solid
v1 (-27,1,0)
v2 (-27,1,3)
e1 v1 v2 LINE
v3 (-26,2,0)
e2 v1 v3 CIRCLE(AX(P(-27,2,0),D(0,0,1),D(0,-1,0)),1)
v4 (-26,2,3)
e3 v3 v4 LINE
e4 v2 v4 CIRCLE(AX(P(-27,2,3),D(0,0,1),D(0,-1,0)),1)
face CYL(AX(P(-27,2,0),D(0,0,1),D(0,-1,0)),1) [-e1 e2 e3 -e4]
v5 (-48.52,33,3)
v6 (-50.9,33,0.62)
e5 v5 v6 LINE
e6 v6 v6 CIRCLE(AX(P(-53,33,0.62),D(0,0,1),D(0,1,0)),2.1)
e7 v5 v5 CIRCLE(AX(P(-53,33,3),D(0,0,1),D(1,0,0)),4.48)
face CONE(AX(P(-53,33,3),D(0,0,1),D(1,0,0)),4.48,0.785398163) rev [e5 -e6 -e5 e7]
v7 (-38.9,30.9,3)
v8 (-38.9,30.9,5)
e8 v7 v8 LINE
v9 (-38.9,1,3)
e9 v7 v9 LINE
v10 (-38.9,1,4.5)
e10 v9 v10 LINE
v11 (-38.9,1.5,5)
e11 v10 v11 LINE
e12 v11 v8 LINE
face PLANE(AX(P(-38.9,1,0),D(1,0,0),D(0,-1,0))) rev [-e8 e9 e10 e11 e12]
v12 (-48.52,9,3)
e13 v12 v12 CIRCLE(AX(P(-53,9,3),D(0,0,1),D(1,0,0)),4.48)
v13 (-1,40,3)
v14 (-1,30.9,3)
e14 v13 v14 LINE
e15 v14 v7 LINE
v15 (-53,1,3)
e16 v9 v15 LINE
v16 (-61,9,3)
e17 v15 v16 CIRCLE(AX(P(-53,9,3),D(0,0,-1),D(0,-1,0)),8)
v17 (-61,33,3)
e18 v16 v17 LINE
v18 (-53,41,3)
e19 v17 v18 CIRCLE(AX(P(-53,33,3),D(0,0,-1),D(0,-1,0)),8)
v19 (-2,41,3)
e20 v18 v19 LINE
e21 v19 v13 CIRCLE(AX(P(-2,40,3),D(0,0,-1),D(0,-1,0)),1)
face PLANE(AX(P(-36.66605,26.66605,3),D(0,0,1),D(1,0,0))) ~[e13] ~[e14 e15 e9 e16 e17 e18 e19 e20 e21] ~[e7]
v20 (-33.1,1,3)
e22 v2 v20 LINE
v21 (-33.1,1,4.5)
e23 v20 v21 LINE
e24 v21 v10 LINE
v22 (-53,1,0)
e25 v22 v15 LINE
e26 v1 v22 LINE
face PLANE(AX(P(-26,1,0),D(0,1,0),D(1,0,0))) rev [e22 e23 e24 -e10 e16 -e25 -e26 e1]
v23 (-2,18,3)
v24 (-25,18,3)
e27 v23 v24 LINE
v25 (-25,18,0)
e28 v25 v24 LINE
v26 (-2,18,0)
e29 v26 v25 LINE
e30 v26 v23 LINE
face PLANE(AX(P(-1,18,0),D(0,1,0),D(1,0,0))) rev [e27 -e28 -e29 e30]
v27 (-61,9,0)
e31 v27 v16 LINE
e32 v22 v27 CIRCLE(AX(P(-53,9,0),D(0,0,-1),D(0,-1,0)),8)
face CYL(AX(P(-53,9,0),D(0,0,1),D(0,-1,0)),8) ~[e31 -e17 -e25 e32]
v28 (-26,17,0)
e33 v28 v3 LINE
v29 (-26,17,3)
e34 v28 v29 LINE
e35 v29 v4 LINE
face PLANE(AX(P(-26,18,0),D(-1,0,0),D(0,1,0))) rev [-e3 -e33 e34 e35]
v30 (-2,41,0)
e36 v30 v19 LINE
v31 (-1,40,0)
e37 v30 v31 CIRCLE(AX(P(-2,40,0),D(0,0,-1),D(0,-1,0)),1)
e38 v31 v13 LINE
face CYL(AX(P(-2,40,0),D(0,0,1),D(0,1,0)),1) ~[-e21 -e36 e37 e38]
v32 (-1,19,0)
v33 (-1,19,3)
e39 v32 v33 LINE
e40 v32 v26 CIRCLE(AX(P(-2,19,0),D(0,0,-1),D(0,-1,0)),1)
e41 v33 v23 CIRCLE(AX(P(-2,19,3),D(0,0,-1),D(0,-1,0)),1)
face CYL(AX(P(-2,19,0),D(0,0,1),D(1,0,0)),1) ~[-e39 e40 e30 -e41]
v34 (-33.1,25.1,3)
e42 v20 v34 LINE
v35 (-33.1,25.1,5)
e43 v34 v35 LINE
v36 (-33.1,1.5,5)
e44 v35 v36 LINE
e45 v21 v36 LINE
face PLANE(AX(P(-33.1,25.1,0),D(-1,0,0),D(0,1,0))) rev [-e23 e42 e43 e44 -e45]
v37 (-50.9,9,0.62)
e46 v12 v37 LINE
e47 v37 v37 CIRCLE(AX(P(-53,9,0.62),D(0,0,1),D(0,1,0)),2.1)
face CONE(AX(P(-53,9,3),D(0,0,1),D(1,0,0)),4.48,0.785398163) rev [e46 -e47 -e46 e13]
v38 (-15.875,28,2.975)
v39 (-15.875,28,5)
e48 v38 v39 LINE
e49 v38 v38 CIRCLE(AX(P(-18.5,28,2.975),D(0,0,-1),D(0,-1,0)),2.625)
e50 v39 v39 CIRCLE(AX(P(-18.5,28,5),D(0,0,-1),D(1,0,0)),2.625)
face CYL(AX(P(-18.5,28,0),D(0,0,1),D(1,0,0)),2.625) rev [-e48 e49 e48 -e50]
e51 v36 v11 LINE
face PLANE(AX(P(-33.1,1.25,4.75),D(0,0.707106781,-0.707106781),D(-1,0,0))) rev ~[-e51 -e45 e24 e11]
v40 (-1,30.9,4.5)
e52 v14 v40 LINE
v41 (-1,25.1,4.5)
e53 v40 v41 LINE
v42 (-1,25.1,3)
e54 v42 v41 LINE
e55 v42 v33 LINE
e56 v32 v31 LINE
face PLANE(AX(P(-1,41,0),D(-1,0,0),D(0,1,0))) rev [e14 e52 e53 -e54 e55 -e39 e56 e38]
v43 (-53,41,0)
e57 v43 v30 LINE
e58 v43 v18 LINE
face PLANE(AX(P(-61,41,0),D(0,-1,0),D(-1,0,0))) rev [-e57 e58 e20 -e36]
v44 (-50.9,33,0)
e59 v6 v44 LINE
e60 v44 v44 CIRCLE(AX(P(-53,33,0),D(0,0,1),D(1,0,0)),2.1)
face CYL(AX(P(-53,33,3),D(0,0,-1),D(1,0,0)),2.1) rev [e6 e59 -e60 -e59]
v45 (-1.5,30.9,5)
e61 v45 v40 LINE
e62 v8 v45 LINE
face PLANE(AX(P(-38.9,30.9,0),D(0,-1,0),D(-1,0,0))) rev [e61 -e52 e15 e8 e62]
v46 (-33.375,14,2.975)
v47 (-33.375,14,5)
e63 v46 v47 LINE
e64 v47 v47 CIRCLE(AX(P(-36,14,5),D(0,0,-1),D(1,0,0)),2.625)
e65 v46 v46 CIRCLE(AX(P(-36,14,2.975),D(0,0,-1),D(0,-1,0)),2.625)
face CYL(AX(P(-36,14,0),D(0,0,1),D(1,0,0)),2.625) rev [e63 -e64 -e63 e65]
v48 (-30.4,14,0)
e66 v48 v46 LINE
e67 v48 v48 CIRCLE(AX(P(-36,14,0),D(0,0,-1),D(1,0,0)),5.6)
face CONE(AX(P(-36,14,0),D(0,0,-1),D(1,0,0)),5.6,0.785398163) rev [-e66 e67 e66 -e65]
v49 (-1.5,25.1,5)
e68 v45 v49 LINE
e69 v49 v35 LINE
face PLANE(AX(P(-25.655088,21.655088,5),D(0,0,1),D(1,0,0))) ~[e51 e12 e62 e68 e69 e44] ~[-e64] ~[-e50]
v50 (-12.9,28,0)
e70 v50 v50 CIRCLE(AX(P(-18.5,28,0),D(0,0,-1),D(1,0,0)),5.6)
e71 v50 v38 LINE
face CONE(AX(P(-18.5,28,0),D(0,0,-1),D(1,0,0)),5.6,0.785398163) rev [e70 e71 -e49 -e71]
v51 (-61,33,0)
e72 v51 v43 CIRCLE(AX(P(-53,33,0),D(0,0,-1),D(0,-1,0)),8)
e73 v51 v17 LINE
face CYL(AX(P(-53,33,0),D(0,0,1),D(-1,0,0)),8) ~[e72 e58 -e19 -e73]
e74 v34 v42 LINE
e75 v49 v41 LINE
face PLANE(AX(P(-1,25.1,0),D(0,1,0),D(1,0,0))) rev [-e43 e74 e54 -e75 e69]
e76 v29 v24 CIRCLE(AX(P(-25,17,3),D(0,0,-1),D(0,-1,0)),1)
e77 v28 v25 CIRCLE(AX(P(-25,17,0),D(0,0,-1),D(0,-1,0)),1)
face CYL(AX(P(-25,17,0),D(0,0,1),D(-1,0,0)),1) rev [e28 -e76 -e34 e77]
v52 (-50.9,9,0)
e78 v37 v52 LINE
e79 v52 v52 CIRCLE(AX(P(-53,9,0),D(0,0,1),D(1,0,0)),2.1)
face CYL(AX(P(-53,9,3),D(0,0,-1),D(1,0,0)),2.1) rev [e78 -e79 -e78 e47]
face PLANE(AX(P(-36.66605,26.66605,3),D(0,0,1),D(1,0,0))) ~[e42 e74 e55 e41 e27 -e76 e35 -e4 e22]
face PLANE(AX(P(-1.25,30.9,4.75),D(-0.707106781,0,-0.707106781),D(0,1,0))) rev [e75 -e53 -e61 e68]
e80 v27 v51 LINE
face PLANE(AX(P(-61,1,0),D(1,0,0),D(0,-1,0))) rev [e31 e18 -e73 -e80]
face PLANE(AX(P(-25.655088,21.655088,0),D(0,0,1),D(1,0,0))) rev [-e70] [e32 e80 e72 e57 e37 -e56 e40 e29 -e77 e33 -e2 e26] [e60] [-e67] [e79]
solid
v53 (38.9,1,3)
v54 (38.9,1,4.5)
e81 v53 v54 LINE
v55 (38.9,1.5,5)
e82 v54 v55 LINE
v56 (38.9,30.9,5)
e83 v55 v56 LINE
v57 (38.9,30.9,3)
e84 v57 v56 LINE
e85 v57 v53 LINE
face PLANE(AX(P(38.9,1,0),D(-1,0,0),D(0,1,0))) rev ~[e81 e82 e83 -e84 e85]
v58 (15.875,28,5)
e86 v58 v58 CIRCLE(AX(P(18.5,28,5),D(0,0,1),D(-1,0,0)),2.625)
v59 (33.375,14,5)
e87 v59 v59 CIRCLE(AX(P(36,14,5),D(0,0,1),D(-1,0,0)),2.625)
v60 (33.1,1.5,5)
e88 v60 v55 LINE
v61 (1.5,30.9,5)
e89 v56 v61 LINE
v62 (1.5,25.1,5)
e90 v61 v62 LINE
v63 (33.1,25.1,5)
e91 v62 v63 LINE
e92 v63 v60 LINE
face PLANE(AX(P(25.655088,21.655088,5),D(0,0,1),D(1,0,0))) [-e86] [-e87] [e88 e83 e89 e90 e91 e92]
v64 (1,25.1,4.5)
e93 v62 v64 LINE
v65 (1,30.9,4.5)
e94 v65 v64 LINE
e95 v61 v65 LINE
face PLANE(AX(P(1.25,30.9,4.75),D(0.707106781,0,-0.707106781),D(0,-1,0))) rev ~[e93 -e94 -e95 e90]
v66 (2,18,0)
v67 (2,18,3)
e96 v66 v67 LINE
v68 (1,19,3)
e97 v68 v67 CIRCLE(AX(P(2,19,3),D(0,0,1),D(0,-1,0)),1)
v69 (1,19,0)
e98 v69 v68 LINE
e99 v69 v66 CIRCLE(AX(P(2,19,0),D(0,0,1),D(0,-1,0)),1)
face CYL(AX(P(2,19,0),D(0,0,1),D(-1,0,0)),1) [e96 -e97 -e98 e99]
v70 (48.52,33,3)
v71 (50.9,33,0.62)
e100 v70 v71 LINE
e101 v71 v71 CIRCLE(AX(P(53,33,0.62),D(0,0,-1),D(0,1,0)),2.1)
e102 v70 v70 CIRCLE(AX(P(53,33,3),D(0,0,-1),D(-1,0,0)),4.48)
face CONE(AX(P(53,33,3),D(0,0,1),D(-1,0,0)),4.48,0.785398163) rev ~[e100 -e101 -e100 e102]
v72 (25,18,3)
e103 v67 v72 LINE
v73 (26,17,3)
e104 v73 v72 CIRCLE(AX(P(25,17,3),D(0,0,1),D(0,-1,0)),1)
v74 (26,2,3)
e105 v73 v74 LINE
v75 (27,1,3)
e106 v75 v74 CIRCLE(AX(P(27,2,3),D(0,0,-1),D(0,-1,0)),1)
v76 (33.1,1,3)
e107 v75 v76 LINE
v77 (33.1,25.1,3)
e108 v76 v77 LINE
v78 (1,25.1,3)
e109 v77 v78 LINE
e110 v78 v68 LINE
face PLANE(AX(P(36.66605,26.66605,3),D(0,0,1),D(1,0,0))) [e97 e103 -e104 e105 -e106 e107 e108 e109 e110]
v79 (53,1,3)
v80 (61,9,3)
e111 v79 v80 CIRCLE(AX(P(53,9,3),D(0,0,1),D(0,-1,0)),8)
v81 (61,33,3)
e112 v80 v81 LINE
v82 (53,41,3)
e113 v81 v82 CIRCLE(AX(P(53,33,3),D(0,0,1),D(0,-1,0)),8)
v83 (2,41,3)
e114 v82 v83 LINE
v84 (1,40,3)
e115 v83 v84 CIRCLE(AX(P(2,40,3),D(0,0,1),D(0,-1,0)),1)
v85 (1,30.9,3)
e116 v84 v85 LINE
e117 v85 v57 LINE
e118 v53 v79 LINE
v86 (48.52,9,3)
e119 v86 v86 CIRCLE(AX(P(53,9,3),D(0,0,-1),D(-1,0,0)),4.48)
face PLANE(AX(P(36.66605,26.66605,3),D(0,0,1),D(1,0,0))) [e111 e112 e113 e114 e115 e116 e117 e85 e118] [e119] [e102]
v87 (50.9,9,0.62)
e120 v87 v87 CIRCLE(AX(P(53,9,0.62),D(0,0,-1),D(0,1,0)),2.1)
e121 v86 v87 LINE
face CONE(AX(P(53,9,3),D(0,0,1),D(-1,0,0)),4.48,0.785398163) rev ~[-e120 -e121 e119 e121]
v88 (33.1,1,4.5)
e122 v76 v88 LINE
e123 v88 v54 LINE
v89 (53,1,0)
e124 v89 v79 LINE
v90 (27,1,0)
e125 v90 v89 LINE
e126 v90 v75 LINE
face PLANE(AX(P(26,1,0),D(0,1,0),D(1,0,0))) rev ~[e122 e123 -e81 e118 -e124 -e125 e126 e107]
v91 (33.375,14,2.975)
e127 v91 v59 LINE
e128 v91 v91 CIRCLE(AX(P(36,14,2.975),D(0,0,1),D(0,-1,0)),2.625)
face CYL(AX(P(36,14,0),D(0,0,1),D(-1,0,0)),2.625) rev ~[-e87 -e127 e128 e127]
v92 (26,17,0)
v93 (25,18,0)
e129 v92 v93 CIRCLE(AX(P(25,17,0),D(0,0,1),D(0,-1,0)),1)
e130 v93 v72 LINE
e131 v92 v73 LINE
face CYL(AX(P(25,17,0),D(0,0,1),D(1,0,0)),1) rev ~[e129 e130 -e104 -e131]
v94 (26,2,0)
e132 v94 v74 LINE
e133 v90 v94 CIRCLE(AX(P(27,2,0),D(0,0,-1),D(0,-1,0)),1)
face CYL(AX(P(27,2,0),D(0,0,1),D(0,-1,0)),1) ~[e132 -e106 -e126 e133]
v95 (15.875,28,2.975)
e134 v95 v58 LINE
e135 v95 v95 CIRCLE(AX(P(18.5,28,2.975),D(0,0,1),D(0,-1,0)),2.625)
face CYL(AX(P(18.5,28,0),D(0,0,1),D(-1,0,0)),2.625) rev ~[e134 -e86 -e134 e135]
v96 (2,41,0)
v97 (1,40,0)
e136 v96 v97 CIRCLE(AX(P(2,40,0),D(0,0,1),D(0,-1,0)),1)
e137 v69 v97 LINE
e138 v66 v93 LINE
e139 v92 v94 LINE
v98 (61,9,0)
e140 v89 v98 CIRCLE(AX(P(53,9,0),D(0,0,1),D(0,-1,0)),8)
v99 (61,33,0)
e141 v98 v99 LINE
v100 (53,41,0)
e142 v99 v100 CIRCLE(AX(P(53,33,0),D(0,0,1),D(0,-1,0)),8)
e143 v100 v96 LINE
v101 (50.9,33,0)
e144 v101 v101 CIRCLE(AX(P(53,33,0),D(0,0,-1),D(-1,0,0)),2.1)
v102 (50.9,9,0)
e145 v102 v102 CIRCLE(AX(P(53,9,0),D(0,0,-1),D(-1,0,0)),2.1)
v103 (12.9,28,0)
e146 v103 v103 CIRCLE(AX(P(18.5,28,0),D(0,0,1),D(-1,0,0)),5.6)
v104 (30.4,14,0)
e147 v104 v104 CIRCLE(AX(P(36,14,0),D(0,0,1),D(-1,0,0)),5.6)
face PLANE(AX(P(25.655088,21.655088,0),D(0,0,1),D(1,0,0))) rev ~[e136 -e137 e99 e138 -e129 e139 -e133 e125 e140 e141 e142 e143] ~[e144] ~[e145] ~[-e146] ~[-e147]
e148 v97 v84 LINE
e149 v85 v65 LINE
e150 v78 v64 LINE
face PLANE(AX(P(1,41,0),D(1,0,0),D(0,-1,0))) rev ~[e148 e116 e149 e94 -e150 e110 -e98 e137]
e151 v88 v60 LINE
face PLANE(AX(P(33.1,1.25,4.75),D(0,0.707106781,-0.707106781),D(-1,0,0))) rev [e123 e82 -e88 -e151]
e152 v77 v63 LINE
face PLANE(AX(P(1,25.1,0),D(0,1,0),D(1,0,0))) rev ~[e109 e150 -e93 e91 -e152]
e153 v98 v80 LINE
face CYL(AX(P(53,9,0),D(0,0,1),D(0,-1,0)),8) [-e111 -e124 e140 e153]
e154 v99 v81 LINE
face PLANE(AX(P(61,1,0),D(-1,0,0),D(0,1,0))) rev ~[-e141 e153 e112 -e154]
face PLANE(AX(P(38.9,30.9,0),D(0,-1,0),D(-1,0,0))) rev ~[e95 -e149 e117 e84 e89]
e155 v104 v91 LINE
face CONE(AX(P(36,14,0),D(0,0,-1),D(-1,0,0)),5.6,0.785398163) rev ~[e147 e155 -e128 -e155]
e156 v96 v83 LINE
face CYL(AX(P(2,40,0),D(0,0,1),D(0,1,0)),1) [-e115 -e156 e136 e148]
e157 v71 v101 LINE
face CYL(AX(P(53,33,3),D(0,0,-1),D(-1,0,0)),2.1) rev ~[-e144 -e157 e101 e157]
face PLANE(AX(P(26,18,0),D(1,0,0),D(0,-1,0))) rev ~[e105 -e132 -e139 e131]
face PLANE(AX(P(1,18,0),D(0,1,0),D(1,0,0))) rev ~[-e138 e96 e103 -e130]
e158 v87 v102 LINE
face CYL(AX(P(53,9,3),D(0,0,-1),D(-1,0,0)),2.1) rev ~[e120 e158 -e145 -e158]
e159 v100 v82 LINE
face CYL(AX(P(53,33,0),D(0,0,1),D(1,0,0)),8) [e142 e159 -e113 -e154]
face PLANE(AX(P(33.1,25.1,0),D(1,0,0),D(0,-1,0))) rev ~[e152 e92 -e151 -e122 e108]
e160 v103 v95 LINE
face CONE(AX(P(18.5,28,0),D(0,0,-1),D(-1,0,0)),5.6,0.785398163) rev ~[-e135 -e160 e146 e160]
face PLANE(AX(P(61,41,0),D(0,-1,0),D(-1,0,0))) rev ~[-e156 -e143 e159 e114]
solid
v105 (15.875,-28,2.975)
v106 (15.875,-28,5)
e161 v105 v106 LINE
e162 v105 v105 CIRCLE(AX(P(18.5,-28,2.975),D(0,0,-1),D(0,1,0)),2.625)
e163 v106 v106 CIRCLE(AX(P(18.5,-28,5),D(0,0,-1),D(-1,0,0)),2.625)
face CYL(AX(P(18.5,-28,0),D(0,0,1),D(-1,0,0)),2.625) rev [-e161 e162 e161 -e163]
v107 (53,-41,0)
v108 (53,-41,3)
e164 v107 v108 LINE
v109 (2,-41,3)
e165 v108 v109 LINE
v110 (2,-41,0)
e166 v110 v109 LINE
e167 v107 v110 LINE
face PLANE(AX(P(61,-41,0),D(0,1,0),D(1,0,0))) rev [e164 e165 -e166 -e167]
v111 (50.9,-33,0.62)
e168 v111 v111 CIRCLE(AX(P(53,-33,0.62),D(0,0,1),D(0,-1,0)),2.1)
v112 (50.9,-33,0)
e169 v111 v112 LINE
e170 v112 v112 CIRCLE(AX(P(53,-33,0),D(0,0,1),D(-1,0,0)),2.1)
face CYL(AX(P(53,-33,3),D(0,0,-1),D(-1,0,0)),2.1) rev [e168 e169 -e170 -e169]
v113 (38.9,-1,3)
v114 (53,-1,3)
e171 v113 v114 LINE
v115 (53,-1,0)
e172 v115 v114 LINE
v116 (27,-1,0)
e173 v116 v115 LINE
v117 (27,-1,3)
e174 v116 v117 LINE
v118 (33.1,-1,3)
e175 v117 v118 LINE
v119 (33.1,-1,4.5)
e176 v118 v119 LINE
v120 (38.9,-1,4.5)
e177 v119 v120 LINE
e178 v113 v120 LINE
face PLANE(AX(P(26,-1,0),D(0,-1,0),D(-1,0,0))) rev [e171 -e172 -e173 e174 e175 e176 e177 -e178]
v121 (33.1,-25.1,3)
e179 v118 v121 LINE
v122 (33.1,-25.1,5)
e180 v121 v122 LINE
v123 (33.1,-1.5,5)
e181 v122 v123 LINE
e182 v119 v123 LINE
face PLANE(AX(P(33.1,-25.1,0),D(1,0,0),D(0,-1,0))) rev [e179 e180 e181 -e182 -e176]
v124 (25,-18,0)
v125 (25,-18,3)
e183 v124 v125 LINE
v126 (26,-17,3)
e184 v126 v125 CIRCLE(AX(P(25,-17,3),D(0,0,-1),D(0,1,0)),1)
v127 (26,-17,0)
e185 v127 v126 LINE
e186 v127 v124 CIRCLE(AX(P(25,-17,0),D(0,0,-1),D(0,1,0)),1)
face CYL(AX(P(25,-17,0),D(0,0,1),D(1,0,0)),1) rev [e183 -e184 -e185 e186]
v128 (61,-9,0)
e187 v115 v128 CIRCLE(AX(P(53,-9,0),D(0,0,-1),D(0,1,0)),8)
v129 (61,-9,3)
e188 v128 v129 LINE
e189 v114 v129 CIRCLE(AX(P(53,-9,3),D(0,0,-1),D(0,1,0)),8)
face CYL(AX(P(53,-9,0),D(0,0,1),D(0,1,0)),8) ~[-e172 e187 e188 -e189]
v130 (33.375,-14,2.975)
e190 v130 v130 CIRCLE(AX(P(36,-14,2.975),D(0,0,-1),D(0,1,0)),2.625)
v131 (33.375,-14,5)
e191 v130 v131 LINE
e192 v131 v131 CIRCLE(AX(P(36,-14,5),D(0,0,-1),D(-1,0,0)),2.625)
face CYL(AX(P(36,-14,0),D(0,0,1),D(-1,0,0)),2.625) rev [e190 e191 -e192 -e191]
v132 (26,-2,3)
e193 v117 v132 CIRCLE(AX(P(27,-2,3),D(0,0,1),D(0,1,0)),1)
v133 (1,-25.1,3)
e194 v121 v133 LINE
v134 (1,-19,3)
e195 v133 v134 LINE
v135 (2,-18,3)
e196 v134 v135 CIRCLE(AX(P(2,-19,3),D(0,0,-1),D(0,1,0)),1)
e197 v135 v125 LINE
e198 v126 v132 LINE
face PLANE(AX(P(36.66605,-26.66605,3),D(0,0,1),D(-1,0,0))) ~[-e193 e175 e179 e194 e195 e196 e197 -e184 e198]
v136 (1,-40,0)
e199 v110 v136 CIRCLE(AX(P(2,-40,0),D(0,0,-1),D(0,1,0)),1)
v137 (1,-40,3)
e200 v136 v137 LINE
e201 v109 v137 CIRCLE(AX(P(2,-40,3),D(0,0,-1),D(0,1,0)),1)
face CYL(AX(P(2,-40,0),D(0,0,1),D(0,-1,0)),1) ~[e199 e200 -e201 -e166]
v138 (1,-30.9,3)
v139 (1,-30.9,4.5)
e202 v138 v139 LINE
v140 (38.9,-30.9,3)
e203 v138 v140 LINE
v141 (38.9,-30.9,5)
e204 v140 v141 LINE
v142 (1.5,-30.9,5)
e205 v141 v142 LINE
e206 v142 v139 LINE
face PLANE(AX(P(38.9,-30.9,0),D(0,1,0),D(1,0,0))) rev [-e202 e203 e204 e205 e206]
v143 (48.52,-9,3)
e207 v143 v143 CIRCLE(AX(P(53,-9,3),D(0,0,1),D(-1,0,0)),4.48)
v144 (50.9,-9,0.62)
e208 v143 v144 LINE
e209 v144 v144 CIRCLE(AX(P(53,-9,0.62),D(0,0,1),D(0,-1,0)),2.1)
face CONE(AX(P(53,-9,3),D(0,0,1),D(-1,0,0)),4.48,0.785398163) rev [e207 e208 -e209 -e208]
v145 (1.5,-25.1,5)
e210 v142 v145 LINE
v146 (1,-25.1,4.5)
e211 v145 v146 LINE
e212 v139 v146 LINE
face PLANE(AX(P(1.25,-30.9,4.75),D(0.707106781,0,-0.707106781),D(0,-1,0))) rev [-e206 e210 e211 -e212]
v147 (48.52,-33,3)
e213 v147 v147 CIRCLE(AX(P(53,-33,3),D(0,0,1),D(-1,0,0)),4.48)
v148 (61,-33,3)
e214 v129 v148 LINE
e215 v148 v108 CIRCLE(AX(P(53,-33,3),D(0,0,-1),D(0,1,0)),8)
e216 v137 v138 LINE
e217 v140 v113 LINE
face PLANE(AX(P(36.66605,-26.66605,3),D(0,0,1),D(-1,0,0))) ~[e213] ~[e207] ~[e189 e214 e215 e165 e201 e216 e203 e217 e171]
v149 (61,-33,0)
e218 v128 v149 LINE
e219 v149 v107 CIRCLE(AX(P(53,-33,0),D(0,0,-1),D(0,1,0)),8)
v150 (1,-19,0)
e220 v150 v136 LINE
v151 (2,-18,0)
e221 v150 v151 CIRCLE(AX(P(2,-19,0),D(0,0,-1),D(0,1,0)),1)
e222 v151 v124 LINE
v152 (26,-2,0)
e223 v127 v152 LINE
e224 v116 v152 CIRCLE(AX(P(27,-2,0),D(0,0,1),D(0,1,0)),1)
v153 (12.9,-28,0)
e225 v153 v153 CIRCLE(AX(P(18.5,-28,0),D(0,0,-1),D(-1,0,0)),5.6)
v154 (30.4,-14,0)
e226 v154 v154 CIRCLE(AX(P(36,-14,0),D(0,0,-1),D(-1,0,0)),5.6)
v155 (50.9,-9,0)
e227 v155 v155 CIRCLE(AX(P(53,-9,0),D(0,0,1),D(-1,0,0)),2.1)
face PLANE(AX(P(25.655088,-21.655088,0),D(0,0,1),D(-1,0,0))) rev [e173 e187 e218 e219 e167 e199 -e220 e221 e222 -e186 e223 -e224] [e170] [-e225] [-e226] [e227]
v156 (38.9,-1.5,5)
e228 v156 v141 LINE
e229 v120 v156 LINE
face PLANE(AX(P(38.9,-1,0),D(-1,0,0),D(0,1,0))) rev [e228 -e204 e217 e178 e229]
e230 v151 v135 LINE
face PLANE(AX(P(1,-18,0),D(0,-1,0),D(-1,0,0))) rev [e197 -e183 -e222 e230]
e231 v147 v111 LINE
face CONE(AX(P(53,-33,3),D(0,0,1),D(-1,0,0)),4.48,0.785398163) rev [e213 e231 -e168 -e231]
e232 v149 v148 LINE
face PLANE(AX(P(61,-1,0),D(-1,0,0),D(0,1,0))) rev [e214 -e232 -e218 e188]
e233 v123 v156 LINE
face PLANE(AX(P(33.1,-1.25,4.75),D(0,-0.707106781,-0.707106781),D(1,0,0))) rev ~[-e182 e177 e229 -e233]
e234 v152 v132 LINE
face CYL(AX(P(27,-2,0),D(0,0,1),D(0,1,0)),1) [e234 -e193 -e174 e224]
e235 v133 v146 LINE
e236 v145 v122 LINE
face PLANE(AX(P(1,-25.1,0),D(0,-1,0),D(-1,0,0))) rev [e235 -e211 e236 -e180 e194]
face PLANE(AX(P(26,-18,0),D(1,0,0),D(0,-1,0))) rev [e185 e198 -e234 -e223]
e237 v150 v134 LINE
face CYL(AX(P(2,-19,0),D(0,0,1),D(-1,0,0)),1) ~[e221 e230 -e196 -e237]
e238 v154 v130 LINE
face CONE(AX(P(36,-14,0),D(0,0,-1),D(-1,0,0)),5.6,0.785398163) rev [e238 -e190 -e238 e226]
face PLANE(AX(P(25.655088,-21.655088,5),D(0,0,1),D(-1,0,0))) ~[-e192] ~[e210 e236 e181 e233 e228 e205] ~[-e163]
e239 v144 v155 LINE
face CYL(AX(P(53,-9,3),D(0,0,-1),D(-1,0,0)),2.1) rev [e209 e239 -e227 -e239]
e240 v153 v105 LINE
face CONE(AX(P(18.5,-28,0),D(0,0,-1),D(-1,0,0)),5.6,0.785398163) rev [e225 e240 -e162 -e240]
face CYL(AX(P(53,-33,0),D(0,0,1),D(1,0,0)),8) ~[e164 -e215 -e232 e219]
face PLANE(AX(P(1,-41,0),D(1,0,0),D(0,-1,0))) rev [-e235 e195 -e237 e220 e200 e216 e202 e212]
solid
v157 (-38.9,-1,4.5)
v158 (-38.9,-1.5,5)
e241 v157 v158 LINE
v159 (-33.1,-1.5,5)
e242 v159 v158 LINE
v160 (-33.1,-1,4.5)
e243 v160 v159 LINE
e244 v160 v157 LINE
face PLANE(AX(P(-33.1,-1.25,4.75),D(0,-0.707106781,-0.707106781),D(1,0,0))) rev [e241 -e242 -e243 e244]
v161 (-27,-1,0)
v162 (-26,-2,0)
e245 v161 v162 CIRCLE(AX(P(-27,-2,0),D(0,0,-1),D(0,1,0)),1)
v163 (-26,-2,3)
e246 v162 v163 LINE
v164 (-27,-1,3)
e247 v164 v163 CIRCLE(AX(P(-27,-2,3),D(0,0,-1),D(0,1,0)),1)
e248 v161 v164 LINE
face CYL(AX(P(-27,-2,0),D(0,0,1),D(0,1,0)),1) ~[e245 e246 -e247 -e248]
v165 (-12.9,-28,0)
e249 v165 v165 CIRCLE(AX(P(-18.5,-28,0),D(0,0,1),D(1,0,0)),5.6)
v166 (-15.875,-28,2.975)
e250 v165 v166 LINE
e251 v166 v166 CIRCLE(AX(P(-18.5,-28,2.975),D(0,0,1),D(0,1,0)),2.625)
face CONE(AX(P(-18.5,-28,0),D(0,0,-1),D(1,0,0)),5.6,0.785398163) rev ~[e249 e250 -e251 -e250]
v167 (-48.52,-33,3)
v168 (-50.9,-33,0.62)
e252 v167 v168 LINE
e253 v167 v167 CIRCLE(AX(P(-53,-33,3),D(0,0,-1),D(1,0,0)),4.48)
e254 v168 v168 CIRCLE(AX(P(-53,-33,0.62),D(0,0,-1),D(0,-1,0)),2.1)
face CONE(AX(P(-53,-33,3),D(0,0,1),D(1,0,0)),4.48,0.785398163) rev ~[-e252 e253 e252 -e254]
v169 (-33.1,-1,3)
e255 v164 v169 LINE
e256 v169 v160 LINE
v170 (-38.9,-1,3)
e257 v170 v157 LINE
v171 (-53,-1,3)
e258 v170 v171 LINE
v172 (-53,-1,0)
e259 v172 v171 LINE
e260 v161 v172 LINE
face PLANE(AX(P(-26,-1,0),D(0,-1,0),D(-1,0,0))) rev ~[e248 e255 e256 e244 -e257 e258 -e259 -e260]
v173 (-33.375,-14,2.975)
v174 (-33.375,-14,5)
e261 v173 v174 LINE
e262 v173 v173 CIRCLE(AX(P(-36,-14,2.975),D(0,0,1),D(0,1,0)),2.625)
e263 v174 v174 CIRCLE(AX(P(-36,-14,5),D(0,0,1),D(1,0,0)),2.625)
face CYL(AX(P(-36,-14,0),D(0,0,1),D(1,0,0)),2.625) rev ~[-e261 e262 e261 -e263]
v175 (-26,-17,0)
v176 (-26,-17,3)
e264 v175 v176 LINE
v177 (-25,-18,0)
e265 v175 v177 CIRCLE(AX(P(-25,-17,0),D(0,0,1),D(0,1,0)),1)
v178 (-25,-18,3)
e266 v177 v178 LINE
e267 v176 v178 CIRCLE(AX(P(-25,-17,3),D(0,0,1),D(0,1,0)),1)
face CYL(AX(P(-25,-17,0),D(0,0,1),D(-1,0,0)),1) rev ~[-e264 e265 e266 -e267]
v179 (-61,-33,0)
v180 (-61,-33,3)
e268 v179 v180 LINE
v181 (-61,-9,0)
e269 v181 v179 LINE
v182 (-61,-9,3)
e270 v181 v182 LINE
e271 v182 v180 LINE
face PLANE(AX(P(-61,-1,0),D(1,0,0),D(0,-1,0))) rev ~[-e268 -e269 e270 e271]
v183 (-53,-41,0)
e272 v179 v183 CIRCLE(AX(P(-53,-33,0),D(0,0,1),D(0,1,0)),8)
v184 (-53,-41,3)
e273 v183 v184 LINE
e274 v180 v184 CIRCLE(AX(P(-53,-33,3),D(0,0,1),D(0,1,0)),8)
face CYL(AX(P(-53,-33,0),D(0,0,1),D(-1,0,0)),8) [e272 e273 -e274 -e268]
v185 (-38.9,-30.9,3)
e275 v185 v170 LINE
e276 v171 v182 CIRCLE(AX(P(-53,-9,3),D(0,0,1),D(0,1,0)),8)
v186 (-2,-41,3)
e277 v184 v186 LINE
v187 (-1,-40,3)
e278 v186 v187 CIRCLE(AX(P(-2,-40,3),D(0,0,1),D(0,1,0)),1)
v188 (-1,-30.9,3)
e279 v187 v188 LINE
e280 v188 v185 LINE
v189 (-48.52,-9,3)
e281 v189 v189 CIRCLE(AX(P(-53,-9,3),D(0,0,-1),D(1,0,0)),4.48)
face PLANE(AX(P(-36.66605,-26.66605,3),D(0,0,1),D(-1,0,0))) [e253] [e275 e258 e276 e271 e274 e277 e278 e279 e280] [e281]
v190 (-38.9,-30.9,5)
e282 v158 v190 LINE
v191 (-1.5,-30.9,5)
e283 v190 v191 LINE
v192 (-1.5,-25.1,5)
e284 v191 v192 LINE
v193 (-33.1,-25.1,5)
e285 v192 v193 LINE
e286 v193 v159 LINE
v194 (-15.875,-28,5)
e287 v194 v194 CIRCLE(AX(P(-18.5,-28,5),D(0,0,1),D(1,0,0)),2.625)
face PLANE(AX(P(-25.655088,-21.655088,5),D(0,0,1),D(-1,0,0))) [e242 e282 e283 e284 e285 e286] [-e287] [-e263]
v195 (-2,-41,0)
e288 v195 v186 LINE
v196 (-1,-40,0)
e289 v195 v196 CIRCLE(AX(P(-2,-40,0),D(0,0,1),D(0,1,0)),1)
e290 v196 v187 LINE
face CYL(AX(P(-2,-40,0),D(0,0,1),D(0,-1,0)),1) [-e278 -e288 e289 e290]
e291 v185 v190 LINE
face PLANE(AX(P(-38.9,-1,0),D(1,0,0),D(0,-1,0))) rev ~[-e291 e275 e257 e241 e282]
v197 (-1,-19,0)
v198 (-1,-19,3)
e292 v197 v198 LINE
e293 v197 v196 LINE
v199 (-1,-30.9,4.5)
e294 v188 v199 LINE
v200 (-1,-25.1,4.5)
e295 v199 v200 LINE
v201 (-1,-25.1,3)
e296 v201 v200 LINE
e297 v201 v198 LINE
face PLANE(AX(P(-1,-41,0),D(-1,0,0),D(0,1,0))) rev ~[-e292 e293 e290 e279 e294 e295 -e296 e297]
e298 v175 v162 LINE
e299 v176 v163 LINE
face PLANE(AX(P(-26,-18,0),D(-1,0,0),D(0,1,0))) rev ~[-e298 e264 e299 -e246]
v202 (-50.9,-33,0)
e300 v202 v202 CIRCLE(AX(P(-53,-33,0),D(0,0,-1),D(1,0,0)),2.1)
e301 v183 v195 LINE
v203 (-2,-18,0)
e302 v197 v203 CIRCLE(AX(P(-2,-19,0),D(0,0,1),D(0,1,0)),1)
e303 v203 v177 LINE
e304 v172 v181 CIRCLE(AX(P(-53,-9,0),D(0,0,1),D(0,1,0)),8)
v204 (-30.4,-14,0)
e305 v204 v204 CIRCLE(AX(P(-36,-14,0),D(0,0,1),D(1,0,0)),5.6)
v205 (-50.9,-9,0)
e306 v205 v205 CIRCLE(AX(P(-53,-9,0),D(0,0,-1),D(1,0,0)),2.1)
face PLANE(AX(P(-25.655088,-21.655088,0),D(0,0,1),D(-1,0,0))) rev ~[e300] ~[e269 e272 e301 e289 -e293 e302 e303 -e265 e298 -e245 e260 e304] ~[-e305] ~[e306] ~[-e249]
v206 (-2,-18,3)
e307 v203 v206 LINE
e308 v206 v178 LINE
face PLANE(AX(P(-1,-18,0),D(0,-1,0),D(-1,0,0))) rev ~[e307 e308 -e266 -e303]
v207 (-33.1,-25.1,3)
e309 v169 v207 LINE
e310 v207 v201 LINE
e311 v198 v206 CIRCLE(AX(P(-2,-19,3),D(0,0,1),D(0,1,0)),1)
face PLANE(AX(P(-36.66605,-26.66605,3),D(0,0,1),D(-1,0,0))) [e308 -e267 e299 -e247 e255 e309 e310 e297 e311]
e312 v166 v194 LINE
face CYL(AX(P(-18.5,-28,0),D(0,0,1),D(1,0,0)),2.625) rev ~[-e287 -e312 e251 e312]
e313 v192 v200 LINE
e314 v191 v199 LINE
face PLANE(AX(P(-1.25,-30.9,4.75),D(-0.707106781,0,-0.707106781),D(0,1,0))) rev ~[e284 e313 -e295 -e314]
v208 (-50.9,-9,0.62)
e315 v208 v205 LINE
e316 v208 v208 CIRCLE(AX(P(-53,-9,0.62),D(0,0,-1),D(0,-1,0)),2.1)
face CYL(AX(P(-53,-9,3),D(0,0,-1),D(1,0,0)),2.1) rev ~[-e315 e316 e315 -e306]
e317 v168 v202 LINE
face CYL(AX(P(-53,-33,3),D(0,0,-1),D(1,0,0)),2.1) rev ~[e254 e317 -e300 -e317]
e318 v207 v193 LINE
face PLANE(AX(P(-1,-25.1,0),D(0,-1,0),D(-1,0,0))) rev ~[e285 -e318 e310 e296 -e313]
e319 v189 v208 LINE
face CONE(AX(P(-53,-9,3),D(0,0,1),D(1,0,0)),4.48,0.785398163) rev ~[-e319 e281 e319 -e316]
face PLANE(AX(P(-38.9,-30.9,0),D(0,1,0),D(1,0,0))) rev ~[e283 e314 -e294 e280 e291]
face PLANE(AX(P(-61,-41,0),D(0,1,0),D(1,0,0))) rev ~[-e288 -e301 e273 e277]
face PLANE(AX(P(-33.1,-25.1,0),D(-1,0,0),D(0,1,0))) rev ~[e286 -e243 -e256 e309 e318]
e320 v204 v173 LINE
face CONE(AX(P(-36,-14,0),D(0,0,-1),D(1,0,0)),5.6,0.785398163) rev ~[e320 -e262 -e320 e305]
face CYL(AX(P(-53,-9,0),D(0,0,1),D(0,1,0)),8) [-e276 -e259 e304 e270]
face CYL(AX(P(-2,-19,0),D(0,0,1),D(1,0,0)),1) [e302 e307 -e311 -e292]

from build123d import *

# Parameters (mm, degrees)
F1_DEPTH       = 3
F2_DEPTH       = 5
F3_D           = 5.25
F3_CSINK_D     = 11.2
F3_CSINK_ANGLE = 90
F5_D           = 4.2
F5_CSINK_D     = 8.96
F5_CSINK_ANGLE = 90
F6_R           = 8
F7_R           = 1
F8_SIZE        = 0.5


with BuildPart() as f1:
    # F0 (on Top) → F1 (new body)
    with BuildSketch(Plane.XY):
        Polygon((38.9, 30.9), (38.9, 1), (61, 1), (61, 41), (1, 41), (1, 30.9), align=None)
        Polygon((26, 18), (26, 1), (33.1, 1), (33.1, 25.1), (1, 25.1), (1, 18), align=None)
        Polygon((33.1, 25.1), (33.1, 1), (38.9, 1), (38.9, 30.9), (1, 30.9), (1, 25.1), align=None)
    extrude(amount=F1_DEPTH)

    # F0 (on Top) → F2 (join)
    with BuildSketch(Plane.XY):
        Polygon((33.1, 25.1), (33.1, 1), (38.9, 1), (38.9, 30.9), (1, 30.9), (1, 25.1), align=None)
    extrude(amount=F2_DEPTH)

    # F3 (through all)
    with Locations(Plane(origin=(0, 0, 0), x_dir=(1, 0, 0), z_dir=(0, 0, -1))):
        with Locations((36, -14), (18.5, -28)):
            CounterSinkHole(F3_D / 2, F3_CSINK_D / 2, counter_sink_angle=F3_CSINK_ANGLE)

    # F5 (through all)
    with Locations(Plane.XY.offset(3)):
        with Locations((53, 9), (53, 33)):
            CounterSinkHole(F5_D / 2, F5_CSINK_D / 2, counter_sink_angle=F5_CSINK_ANGLE)

    # F6
    f6_edges = [f1.edges().sort_by_distance(p)[0] for p in [
        (61, 41, 1.5),
        (61, 1, 1.5),
    ]]
    fillet(f6_edges, radius=F6_R)

    # F7
    f7_edges = [f1.edges().sort_by_distance(p)[0] for p in [
        (26, 1, 1.5),
        (26, 18, 1.5),
        (1, 18, 1.5),
        (1, 41, 1.5),
    ]]
    fillet(f7_edges, radius=F7_R)

    # F8
    f8_edges = [f1.edges().sort_by_distance(p)[0] for p in [
        (36, 1, 5),
        (1, 28, 5),
    ]]
    chamfer(f8_edges, length=F8_SIZE)


with BuildPart() as f9_1:
    # F9: instance of F1
    add(f1.part.mirror(Plane.YZ))


with BuildPart() as f10_1:
    # F10: instance of F9_1
    add(f9_1.part.mirror(Plane.XZ))


with BuildPart() as f10_2:
    # F10: instance of F1
    add(f1.part.mirror(Plane.XZ))


solid = Compound([f1.part, f9_1.part, f10_1.part, f10_2.part])
